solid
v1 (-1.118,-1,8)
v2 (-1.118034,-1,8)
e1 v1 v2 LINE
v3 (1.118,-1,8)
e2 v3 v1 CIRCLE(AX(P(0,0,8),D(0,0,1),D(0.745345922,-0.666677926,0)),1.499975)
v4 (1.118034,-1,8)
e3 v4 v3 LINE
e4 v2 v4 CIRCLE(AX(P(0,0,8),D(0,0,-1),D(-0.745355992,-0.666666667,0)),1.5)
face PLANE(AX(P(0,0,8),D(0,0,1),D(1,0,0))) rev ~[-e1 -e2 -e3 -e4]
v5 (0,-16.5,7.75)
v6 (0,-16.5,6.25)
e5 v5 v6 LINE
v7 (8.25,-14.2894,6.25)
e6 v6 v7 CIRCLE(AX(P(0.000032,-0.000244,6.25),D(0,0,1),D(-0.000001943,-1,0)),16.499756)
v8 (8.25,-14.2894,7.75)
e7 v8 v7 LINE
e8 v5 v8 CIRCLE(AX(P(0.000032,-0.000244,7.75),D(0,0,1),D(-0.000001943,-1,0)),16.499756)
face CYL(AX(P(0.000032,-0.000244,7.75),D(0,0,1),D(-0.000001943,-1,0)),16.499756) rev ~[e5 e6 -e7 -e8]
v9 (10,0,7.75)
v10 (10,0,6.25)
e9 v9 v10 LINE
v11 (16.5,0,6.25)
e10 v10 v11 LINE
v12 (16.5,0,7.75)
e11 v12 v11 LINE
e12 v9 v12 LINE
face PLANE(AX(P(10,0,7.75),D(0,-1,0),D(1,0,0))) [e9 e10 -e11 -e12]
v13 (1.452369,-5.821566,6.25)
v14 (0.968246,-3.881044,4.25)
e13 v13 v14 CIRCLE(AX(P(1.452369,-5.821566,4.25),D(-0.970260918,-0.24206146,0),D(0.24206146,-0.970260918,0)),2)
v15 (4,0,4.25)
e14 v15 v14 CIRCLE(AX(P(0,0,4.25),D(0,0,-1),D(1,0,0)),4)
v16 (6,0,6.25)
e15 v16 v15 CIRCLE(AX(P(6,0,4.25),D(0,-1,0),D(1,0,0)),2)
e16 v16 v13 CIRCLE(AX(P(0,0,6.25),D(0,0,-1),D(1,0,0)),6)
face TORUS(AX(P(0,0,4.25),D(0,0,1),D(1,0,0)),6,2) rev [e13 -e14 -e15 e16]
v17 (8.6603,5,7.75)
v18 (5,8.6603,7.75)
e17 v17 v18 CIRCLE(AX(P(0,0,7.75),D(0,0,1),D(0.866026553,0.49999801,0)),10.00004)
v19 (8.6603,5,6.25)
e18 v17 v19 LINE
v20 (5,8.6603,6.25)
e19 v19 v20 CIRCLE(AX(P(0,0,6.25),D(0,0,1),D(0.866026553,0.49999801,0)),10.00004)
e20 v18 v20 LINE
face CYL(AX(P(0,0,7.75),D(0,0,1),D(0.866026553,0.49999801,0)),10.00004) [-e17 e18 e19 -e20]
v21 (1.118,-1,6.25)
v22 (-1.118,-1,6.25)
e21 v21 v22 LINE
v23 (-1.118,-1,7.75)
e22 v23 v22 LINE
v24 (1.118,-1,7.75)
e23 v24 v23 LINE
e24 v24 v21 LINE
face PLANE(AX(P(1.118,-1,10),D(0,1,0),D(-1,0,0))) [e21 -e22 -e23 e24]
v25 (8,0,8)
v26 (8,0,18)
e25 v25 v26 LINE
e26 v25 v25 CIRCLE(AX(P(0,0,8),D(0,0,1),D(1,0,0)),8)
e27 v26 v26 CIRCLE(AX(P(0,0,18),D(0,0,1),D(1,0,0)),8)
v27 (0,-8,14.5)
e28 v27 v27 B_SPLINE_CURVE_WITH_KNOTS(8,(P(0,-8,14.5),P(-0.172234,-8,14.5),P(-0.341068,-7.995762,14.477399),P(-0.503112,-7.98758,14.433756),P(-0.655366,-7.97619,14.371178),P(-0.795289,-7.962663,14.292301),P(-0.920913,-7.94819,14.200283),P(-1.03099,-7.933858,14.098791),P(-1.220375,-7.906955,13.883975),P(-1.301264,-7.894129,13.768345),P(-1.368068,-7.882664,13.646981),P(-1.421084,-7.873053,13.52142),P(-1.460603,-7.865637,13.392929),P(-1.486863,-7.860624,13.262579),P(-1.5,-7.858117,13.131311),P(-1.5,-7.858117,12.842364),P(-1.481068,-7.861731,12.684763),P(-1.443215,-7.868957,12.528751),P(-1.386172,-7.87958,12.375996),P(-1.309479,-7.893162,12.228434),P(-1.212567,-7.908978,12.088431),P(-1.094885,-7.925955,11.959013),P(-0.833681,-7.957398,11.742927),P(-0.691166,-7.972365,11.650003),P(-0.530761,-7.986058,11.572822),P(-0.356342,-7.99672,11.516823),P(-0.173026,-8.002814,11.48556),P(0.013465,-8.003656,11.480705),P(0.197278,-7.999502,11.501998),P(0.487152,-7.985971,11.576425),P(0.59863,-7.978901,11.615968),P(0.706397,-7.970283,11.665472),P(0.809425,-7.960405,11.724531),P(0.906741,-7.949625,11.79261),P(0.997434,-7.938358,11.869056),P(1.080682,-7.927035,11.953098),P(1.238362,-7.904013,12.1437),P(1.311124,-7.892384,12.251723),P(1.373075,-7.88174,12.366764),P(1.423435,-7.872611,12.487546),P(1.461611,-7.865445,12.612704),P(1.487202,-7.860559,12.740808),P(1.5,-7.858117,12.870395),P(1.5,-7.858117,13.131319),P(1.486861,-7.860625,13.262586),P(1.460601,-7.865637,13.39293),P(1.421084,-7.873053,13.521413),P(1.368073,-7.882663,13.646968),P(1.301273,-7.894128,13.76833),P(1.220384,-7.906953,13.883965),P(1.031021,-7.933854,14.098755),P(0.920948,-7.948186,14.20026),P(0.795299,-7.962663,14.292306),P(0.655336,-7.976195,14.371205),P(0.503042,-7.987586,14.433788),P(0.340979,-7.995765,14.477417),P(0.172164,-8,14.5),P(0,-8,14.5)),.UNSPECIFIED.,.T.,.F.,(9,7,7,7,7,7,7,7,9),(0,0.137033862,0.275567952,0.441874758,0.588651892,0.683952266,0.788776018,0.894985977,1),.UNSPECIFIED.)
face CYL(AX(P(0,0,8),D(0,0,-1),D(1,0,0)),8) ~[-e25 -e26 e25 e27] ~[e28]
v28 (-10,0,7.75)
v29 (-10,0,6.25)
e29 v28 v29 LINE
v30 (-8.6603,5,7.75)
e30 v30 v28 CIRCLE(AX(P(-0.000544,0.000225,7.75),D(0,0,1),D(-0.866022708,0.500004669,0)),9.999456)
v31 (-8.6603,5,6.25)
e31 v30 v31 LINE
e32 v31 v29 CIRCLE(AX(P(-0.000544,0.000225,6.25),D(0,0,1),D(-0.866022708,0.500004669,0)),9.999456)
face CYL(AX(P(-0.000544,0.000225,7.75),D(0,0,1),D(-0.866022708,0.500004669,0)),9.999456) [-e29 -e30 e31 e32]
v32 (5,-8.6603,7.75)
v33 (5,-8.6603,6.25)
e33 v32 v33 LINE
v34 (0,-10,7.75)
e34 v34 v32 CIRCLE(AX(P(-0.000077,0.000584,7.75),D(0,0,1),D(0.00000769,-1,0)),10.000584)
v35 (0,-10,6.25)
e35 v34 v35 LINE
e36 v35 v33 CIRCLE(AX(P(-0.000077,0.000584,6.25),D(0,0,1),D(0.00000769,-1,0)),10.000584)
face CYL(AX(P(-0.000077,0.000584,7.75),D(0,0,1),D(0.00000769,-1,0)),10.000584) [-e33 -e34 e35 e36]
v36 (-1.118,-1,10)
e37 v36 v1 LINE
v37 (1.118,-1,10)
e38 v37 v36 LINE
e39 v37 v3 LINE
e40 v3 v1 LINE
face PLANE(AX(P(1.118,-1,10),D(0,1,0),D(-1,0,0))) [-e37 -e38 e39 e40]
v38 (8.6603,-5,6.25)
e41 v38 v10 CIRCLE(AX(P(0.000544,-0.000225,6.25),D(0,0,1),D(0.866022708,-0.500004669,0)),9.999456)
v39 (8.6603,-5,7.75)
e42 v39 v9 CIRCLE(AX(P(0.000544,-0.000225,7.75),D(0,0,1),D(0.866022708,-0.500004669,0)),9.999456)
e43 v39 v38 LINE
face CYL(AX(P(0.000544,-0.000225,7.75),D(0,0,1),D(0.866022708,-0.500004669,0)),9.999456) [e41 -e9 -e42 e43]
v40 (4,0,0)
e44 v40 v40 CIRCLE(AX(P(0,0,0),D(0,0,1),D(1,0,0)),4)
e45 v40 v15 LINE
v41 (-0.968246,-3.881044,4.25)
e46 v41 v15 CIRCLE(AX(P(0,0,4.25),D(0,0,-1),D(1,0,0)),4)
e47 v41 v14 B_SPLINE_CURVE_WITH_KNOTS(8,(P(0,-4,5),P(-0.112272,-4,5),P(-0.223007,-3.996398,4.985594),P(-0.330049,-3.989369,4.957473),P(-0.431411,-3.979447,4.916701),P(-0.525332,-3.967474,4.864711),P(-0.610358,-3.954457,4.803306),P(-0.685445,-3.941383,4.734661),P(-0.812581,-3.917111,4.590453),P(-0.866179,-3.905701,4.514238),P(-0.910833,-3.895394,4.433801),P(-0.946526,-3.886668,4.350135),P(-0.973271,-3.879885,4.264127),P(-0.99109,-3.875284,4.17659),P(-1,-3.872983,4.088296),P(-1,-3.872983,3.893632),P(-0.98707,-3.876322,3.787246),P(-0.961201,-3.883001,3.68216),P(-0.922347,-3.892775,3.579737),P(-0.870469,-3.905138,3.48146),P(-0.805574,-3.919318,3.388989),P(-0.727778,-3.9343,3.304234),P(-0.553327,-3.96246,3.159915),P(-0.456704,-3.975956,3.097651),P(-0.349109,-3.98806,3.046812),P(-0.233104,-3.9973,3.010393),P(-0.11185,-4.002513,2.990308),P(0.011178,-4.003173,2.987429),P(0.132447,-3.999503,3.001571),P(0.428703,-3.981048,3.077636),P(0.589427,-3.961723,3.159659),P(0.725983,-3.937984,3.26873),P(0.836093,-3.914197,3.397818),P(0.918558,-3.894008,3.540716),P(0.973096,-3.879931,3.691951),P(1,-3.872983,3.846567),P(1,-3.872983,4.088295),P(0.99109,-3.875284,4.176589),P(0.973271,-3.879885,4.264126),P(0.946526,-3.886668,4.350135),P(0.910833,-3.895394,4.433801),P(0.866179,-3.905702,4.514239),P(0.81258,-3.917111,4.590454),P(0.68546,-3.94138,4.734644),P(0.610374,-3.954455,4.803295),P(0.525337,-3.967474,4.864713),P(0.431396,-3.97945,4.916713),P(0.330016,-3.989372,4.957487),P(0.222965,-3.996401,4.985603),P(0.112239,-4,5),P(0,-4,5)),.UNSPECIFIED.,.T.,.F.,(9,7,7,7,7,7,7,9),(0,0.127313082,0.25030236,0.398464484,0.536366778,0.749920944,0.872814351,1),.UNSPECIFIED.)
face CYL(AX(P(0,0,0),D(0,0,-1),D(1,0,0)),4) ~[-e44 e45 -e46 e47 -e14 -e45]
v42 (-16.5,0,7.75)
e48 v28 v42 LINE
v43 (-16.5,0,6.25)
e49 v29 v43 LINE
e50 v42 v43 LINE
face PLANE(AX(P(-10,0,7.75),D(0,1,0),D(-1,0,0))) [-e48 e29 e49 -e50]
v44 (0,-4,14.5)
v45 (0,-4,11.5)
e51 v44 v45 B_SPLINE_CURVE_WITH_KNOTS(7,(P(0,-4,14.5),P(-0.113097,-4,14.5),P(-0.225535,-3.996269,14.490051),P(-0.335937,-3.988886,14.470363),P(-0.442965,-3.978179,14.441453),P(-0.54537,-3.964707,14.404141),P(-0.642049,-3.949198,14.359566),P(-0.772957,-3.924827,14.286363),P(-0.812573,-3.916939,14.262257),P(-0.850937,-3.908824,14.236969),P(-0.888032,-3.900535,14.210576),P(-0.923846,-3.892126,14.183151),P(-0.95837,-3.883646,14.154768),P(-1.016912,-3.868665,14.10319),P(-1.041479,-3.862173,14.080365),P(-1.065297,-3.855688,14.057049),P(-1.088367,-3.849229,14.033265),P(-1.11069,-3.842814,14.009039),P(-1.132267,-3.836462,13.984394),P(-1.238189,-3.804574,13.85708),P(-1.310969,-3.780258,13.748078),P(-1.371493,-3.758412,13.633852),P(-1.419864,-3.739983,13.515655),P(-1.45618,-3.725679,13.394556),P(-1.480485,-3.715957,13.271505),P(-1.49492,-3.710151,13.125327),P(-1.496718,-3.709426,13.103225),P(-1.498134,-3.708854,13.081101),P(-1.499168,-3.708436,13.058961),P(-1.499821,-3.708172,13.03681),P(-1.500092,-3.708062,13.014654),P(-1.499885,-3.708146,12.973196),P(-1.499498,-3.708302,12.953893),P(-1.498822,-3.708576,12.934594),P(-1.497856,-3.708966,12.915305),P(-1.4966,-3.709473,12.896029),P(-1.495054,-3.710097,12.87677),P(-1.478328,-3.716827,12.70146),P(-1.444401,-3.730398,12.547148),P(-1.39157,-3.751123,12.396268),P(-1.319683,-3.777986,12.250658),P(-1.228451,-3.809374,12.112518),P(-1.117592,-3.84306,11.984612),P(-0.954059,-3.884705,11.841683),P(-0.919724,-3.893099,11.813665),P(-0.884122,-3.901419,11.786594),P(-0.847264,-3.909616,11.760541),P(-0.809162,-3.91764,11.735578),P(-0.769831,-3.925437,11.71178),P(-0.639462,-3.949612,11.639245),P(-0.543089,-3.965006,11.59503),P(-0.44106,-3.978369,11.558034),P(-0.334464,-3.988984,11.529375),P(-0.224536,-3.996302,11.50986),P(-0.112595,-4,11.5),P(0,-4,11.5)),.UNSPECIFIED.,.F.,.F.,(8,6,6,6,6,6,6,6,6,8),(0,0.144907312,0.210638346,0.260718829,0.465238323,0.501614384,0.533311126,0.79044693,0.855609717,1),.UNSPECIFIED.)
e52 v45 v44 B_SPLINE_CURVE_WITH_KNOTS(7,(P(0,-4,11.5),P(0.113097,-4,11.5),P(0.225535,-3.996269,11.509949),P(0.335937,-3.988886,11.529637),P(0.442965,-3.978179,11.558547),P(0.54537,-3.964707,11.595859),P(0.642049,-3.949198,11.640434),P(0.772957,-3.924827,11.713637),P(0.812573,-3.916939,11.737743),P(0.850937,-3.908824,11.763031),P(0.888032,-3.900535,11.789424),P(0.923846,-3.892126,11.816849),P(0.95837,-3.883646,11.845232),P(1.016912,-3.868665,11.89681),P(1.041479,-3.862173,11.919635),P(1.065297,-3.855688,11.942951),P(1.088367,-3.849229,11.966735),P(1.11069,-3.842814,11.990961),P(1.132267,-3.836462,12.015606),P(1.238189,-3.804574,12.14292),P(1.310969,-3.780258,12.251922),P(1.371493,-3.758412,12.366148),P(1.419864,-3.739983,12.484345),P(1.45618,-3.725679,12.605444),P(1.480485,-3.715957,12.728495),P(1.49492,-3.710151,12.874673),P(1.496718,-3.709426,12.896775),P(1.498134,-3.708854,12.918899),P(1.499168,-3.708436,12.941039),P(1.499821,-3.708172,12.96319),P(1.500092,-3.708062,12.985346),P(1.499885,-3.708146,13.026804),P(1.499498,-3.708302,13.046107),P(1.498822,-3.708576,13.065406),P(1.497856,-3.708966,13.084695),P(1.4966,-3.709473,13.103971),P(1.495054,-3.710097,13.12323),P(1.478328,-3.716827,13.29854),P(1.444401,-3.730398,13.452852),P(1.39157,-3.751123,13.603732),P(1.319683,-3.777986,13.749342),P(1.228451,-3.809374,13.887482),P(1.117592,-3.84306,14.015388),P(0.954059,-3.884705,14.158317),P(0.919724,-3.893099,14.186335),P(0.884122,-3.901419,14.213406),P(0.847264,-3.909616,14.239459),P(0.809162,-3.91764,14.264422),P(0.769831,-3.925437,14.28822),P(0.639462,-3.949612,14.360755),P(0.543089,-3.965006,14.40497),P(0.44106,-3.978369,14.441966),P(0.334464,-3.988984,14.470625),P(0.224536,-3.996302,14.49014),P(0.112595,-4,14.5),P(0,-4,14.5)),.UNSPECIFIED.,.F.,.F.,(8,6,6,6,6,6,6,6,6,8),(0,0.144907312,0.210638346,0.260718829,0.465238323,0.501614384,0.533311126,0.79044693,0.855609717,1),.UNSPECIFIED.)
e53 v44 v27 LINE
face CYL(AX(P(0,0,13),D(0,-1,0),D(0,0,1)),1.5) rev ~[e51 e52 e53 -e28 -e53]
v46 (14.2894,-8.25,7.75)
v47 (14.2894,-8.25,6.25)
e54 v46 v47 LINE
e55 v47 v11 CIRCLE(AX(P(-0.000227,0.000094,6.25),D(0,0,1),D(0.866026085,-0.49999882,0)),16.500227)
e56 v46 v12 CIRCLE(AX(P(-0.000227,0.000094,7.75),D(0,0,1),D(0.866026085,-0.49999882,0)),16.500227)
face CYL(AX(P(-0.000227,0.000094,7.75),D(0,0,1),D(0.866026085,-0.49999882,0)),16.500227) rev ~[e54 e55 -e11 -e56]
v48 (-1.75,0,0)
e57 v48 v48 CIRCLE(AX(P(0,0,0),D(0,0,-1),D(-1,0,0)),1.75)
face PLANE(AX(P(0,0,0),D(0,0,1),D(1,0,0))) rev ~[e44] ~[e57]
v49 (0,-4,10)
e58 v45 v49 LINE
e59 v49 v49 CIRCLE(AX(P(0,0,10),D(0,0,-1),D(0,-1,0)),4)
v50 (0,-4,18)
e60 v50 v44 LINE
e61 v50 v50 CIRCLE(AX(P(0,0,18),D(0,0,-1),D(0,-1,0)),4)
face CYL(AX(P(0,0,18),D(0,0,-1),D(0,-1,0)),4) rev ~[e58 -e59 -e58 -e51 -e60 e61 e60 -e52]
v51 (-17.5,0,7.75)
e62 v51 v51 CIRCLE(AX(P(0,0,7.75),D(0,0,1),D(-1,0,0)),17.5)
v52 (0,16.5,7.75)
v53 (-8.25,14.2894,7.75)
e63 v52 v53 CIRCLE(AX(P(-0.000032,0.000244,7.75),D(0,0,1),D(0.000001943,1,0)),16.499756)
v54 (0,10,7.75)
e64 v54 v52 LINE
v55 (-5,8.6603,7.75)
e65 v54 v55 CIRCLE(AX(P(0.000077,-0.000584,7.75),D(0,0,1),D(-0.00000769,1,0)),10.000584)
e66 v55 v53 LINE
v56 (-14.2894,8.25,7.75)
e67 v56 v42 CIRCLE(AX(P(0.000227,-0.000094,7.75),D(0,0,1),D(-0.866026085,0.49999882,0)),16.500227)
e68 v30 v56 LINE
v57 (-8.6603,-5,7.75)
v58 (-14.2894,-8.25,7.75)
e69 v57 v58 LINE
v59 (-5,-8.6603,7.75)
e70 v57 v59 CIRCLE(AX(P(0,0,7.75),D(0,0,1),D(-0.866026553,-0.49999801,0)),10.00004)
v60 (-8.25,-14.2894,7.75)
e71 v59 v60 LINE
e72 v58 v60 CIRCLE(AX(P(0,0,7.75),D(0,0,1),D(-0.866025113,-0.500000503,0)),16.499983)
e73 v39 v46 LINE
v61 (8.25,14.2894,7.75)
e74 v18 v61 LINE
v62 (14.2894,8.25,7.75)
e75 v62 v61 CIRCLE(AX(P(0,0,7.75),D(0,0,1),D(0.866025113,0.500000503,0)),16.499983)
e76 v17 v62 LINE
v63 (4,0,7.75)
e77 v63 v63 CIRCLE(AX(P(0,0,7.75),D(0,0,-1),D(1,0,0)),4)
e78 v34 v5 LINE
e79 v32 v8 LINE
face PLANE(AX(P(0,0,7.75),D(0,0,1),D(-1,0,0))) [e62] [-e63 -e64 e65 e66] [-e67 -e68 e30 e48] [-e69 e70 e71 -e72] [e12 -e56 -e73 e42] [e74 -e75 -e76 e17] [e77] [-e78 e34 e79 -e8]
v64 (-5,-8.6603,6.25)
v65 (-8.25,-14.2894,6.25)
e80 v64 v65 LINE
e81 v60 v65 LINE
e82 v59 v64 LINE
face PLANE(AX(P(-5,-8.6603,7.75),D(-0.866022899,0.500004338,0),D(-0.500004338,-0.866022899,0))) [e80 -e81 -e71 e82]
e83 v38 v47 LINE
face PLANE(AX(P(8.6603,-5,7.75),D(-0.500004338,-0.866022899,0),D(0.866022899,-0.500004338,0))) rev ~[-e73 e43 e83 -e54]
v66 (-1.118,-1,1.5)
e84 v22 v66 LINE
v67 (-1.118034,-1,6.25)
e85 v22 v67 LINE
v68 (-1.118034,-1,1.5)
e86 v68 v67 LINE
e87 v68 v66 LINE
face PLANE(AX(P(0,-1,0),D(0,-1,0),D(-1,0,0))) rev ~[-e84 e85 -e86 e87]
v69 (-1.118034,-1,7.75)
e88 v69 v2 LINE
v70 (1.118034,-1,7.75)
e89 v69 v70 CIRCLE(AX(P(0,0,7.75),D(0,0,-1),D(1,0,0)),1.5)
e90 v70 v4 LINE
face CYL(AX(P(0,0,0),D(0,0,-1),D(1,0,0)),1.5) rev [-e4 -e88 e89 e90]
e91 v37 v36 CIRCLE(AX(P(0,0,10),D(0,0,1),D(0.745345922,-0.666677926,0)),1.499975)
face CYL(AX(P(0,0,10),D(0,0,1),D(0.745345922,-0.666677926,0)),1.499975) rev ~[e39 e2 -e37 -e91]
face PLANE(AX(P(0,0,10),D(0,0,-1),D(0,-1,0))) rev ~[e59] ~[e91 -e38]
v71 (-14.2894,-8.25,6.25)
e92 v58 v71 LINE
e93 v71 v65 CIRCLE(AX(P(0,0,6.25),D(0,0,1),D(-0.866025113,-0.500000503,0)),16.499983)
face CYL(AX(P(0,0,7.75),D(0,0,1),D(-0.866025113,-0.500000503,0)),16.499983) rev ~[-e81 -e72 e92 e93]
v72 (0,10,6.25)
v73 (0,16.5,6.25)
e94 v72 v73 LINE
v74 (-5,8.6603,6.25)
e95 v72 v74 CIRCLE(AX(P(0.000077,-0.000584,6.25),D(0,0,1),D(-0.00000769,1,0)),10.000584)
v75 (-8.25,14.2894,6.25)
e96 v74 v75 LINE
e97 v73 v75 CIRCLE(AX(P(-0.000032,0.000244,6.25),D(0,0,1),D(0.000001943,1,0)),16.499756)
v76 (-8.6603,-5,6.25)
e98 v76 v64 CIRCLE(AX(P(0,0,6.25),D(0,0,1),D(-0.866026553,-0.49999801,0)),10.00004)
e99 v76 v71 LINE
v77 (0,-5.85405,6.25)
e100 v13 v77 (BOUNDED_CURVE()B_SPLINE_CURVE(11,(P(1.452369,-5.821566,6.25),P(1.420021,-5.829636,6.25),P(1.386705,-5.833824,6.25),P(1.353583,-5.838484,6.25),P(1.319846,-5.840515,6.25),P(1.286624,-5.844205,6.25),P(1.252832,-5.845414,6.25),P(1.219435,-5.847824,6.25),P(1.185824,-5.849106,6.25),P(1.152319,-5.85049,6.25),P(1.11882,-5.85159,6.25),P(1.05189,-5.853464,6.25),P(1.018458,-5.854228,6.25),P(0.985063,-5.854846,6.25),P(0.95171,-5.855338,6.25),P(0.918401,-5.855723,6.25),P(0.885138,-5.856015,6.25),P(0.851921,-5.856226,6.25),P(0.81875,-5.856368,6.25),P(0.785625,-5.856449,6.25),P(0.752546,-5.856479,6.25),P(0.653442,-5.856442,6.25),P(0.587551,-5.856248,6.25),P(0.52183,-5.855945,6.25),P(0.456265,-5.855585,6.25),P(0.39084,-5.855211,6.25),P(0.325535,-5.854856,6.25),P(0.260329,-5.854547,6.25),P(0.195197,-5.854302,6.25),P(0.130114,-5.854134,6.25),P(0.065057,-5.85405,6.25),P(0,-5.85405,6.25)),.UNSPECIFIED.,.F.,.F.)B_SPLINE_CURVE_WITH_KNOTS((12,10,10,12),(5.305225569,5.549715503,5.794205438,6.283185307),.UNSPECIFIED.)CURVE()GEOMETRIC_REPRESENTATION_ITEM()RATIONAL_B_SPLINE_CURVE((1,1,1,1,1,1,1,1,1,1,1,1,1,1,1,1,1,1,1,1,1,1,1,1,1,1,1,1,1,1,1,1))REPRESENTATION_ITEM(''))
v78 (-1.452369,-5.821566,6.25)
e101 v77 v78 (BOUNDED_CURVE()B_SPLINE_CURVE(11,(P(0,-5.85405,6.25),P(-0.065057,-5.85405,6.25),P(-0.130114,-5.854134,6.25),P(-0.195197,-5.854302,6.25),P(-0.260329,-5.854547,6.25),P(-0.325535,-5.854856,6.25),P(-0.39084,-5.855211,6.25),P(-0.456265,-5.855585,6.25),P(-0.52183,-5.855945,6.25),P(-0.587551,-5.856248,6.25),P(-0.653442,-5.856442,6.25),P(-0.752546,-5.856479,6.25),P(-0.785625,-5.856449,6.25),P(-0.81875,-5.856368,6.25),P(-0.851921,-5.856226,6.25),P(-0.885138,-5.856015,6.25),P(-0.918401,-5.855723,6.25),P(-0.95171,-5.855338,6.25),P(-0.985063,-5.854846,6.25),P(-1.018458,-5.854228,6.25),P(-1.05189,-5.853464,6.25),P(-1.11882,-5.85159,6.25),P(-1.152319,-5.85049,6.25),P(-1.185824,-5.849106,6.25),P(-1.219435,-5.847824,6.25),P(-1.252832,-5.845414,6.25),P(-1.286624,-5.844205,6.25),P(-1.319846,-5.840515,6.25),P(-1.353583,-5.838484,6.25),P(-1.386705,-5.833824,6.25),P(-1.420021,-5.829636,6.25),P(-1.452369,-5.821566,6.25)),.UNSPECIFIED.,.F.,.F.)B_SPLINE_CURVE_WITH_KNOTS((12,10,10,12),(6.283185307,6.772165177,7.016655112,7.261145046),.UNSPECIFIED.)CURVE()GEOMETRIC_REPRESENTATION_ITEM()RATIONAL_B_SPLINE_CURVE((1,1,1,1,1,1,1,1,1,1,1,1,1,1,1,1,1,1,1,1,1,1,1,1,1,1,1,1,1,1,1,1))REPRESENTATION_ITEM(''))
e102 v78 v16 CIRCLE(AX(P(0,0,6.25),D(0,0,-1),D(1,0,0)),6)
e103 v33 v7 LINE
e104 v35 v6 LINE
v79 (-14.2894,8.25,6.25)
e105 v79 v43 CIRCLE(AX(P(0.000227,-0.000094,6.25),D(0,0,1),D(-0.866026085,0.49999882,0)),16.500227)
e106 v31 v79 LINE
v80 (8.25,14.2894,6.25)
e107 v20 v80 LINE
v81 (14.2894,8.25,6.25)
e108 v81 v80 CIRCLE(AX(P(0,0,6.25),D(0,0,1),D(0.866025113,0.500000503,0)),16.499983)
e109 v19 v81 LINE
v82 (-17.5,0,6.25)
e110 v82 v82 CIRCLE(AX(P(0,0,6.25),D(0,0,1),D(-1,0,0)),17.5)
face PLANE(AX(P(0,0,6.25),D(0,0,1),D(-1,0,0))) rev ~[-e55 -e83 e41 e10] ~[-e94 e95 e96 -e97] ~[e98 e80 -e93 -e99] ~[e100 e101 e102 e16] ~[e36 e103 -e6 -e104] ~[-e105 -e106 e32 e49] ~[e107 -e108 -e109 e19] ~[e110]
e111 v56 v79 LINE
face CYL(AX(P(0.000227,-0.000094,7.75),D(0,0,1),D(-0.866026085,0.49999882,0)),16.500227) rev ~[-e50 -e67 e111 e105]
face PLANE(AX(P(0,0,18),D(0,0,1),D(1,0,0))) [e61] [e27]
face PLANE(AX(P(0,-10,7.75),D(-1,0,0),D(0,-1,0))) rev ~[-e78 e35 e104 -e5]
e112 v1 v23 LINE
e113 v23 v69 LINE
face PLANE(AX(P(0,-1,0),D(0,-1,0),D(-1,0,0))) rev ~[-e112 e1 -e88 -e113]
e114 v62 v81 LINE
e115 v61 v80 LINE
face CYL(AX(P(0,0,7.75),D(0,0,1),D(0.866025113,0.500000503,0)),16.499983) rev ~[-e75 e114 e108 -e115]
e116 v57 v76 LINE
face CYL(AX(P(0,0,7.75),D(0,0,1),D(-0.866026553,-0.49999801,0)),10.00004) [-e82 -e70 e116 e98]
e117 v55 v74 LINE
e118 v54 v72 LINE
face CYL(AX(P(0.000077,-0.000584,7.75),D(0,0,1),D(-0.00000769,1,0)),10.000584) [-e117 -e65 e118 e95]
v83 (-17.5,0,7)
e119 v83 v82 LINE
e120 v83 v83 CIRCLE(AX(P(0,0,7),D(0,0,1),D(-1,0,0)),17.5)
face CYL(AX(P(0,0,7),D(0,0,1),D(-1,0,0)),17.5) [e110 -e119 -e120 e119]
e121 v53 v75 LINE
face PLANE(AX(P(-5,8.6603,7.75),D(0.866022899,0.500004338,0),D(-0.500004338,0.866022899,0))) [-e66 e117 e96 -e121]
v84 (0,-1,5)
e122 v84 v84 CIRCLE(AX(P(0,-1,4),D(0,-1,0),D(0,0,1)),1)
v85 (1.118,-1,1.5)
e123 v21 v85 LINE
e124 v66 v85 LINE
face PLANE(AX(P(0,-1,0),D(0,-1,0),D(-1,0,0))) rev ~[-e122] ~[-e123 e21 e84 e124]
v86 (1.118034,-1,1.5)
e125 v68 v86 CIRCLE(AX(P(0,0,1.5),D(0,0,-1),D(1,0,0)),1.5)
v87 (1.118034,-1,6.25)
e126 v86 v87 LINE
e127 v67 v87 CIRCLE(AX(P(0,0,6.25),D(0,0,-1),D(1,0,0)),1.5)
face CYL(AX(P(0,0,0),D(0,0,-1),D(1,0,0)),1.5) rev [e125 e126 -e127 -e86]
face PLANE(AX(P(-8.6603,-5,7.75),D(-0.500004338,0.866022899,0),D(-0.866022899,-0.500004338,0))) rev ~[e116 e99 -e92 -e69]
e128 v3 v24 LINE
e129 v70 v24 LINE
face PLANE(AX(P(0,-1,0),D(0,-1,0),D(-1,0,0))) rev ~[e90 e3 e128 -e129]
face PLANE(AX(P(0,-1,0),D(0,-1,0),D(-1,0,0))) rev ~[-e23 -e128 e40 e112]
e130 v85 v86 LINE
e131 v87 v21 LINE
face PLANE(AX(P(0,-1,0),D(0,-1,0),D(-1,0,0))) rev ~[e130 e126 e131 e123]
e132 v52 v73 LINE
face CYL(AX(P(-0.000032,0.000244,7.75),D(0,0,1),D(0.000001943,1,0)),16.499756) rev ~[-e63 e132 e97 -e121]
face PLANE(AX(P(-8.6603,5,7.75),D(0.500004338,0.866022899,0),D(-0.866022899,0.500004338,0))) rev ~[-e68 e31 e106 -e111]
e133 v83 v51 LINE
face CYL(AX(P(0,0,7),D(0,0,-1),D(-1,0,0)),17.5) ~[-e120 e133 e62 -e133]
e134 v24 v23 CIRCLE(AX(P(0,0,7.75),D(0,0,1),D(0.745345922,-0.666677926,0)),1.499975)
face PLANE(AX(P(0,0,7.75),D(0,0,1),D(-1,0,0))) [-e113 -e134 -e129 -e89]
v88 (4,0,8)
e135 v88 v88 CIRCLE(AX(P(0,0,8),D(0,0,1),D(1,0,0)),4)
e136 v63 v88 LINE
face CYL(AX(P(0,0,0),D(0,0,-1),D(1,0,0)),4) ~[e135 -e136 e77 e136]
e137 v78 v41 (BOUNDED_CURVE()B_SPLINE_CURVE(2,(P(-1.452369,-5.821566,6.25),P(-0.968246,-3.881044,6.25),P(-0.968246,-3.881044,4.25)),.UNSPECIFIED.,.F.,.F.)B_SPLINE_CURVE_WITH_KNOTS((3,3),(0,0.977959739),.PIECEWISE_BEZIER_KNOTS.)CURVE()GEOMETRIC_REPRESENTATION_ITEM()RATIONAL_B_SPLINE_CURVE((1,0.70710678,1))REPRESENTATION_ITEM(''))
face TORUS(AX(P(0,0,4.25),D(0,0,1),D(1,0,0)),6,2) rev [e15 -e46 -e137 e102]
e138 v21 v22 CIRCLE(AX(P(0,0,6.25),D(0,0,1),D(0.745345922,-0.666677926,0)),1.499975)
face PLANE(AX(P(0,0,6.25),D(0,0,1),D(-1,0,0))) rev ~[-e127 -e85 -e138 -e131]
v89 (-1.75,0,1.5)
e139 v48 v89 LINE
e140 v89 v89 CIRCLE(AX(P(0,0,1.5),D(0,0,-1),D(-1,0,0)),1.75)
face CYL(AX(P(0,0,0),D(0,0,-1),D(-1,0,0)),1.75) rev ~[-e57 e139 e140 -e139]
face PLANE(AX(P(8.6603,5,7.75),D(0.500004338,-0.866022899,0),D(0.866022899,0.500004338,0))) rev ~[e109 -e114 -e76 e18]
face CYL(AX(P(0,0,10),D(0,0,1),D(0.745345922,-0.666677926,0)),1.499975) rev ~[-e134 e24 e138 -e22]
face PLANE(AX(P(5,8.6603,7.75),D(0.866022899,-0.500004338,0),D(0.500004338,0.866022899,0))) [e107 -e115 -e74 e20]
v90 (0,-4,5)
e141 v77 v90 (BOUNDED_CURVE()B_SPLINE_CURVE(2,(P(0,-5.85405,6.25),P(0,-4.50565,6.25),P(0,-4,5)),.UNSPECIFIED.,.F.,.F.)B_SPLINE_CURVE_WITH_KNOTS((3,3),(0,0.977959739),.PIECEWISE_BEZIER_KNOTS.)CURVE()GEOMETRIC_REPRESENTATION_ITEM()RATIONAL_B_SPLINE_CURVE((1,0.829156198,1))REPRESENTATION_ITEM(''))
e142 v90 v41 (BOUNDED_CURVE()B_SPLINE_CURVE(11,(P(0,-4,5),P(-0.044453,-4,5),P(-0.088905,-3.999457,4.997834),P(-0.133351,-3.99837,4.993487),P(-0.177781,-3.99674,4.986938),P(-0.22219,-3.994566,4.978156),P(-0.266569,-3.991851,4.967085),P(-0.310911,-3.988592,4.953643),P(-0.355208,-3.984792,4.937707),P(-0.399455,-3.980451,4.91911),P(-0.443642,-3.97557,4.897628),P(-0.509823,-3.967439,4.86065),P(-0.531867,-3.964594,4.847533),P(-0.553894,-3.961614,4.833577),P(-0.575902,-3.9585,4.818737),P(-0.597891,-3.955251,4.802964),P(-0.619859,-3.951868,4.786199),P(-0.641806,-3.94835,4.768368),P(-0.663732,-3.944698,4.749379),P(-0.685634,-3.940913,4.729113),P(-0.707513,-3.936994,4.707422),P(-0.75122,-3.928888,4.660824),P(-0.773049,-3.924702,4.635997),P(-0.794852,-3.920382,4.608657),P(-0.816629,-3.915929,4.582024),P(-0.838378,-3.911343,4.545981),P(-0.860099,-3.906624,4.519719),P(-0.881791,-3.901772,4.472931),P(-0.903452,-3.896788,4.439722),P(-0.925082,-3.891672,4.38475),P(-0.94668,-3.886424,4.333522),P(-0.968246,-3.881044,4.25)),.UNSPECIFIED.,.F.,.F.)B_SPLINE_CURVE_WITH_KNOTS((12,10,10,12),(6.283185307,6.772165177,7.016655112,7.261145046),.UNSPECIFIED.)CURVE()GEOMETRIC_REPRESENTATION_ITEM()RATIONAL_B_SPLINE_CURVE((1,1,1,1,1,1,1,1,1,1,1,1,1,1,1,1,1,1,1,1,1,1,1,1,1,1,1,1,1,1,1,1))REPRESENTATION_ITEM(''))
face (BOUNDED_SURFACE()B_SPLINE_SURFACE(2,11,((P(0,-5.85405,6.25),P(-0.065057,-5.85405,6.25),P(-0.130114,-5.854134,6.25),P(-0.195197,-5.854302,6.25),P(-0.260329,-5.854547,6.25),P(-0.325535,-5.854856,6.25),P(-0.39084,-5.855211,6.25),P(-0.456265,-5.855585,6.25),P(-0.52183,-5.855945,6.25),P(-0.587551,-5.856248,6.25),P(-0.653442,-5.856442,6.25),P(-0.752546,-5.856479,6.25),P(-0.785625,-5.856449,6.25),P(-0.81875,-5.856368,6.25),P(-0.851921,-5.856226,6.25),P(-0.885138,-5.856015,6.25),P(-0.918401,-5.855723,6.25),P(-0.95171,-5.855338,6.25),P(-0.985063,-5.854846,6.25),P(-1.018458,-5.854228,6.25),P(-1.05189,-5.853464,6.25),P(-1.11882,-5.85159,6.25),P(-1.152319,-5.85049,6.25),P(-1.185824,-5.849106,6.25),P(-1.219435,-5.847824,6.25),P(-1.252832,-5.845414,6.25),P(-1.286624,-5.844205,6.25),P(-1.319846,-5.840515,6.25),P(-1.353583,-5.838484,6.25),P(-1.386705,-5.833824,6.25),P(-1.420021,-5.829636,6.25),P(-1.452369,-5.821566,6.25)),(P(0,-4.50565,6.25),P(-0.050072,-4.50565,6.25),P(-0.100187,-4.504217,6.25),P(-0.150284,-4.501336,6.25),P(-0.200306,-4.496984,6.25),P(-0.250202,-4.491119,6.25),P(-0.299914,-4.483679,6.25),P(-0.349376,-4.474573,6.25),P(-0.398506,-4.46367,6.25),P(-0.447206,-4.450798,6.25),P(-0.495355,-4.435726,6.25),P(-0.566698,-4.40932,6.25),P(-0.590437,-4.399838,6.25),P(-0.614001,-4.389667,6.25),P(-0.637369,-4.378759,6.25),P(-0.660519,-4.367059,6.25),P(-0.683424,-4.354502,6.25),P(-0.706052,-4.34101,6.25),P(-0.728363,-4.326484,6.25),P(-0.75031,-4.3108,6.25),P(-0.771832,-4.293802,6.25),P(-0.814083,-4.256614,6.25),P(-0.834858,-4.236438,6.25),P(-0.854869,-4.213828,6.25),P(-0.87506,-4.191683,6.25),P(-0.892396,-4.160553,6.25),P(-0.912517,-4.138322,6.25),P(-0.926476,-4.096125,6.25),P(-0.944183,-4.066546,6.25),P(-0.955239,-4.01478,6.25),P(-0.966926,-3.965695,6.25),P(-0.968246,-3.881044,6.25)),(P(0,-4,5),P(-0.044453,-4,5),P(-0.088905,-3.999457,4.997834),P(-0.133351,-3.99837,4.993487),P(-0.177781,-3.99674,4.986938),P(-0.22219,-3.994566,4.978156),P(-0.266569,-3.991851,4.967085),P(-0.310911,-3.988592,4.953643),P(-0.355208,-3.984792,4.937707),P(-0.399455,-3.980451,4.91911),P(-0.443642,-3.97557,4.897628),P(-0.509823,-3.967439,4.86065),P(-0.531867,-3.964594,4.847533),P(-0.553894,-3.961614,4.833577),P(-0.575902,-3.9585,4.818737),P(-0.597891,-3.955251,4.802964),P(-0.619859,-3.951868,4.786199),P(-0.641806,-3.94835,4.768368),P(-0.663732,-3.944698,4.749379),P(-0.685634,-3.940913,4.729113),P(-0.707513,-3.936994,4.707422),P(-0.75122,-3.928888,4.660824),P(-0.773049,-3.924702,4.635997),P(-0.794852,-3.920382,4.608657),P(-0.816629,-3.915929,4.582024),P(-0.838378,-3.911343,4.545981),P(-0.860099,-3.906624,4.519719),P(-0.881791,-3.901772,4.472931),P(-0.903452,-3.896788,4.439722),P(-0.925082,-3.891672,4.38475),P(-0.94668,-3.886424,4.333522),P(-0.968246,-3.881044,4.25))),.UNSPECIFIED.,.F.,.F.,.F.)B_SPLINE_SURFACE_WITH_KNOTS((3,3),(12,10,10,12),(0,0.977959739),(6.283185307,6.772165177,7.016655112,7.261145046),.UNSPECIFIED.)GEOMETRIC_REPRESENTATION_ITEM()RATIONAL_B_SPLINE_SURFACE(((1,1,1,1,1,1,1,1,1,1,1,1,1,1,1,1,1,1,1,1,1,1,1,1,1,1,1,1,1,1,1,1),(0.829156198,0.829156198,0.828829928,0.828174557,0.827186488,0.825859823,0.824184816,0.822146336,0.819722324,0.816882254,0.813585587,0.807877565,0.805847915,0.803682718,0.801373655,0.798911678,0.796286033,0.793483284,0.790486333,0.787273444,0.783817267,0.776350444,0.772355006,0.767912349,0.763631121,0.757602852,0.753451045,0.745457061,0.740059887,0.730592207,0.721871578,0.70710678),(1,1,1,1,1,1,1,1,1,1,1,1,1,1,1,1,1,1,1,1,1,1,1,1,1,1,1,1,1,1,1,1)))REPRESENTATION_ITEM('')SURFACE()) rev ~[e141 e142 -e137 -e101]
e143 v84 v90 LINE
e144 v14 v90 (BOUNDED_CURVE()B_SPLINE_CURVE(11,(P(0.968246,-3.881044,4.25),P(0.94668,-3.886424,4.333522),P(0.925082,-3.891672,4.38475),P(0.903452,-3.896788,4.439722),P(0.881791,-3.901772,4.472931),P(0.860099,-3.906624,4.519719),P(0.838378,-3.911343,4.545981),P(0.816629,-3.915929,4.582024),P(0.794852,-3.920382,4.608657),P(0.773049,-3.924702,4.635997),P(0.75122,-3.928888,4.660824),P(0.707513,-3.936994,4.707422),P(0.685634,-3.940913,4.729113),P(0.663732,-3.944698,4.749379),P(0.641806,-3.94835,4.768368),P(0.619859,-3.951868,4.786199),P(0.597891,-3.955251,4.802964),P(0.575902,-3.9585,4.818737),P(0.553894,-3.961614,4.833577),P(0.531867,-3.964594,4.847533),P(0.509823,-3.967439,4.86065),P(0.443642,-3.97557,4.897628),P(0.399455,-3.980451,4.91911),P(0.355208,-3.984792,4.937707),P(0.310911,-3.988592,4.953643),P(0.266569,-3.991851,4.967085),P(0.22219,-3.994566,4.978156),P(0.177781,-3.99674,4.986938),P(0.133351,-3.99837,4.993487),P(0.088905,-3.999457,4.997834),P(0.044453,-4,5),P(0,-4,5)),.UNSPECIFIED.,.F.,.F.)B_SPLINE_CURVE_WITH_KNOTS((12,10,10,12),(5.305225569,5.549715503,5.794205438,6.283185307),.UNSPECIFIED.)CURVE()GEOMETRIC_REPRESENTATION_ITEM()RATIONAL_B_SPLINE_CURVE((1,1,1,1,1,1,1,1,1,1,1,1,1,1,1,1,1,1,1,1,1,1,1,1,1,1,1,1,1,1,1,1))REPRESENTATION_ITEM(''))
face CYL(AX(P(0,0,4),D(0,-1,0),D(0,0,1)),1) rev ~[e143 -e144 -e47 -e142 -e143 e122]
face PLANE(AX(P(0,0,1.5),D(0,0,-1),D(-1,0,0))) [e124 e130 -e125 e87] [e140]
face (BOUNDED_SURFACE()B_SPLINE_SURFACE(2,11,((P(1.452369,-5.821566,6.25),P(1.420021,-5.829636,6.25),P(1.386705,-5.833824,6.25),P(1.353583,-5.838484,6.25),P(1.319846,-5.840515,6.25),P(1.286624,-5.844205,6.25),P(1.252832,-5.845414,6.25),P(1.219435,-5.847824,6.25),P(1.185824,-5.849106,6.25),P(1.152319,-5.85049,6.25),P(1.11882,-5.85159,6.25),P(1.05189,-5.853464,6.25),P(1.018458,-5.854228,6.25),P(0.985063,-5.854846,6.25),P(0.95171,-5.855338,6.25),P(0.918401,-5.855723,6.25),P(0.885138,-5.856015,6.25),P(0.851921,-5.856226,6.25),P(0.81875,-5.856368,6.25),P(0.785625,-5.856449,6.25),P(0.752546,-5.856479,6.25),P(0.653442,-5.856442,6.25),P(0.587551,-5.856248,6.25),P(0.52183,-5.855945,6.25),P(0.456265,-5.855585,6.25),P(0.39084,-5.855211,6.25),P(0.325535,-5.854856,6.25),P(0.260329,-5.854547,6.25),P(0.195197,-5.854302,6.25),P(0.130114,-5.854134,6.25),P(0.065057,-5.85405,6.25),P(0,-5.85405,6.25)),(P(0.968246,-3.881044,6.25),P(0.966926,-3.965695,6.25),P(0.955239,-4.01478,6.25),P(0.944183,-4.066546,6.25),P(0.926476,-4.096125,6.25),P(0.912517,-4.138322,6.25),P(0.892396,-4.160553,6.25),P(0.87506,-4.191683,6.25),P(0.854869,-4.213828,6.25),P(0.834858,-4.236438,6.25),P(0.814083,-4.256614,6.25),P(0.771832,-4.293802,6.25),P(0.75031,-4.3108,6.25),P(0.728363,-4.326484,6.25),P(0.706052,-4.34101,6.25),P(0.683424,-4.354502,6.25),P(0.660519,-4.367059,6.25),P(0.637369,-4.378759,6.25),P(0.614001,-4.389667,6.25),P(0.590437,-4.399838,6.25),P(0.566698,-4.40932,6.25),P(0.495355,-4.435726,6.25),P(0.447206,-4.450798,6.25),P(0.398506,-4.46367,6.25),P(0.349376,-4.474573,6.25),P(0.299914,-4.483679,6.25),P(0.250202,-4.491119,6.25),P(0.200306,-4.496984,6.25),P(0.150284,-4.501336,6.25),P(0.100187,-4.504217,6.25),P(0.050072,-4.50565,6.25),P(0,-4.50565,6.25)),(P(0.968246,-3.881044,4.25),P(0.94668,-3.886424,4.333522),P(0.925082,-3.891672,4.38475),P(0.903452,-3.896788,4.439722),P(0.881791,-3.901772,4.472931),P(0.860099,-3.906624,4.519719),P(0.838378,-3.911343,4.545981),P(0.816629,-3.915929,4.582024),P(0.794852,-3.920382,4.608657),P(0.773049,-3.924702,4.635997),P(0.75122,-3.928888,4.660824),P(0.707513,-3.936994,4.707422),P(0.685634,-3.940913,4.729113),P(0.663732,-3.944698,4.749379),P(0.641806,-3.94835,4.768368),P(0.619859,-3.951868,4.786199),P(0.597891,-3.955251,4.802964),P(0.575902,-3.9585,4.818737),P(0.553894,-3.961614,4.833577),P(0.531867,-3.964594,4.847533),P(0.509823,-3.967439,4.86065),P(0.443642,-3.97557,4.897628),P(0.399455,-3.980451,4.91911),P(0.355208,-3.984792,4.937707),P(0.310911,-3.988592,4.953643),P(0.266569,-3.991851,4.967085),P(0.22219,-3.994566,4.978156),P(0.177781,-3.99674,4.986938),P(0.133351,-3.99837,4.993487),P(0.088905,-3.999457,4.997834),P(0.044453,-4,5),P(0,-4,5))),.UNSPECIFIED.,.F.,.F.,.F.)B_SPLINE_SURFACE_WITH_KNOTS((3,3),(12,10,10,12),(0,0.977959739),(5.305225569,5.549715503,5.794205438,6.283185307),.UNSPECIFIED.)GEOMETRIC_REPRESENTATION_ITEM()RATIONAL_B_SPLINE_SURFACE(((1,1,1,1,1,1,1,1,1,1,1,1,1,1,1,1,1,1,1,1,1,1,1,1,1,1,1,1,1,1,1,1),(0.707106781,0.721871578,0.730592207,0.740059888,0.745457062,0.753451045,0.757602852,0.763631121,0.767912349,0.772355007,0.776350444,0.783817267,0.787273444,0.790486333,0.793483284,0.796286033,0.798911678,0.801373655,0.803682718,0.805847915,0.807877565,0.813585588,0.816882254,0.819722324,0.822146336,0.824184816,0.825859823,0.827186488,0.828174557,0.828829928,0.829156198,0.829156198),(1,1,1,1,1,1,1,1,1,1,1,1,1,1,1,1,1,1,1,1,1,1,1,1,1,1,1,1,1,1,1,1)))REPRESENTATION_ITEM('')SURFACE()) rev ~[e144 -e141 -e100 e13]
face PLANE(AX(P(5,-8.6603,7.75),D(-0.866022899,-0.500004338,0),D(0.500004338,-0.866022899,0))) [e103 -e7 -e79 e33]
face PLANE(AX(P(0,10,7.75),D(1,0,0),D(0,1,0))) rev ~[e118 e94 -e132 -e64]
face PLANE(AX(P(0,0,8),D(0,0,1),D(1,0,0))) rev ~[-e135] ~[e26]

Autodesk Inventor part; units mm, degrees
ref_plane "YZ Plane" through (0, 0, 0) normal (1, 0, 0) x (0, 1, 0)
ref_plane "XZ Plane" through (0, 0, 0) normal (0, 1, 0) x (-1, 0, 0)
ref_plane "XY Plane" through (0, 0, 0) normal (0, 0, 1) x (1, 0, 0)
sketch "Boceto1" plane through (0, 0, 0) normal (0, 0, 1) x (1, 0, 0)
  circle A0 centre (0, 0) radius 4
  circle A1 centre (0, 0) radius 1.5 projected
  line L0 (0, -1) -> (1.5, -1)
  line L1 (1.5, -1) -> (-2.7531, -1)
  point P0 (1, -1.118)
  point P1 (1, 1.118)
  point P2 (-1.118, -1)
  point P3 (1.118, -1)
  dimension "d0" = 8
extrude "Extrusión1" add sketch "Boceto1" along normal blind 8 contours A0 | L1 L0 A1 picked at (-0.6553, -1.0791)
sketch "Boceto2" plane through (0, 0, 8) normal (0, 0, 1) x (1, 0, 0)
  circle A0 centre (0, 0) radius 8
  dimension "d3" = 16
extrude "Extrusión2" add sketch "Boceto2" along normal blind 10
sketch "Boceto3" plane through (0, 0, 18) normal (0, 0, 1) x (1, 0, 0)
  circle A0 centre (0, 0) radius 8 projected
hole "Agujero1" at (0, 0, 18) direction (0, 0, -1) diameter 8 depth 8
sketch "Boceto5" plane through (0, 0, 0) normal (0, 1, 0) x (-1, 0, 0)
  line L0 (0, 0) -> (0, 4)
  circle A0 centre (0, 4) radius 1
  line L1 (0, 4) -> (0, 8)
  line L2 (0, 8) -> (0, 13)
  circle A1 centre (0, 13) radius 1.5
  dimension "d20" = 4
  dimension "d21" = 2
  dimension "d29" = 5
  dimension "d30" = 3
hole "Agujero3" at (0, 0, 4) direction (0, -1, 0) diameter 2 end through all
sketch "Boceto6" plane through (0, 0, 0) normal (0, 1, 0) x (-1, 0, 0)
  line L0 (0, 0) -> (0, 13)
  circle A0 centre (0, 13) radius 1.5
  dimension "d31" = 13
  dimension "d32" = 3
hole "Agujero4" at (0, 0, 13) direction (0, -1, 0) diameter 3 end through all
ref_plane "Plano de trabajo2" through (0, 0, 7) normal (0, 0, 1) x (-1, 0, 0)
sketch "Boceto7" plane through (0, 0, 7) normal (0, 0, 1) x (-1, 0, 0)
  circle A0 centre (0, 0) radius 17.5
  dimension "d42" = 35
extrude "Extrusión3" add sketch "Boceto7" along normal mid plane 1.5
sketch "Boceto8" plane through (0, 0, 7.75) normal (0, 0, 1) x (1, 0, 0)
  circle A0 centre (0, 0) radius 8 projected
  circle A1 centre (0, 0) radius 17.5 projected
  arc A2 (8.6603, -5) -> (10, 0) centre (0, 0) ccw
  arc A3 (14.2894, -8.25) -> (16.5, 0) centre (0, 0) ccw
  line L0 (10, 0) -> (16.5, 0)
  line L1 (0, 0) -> (16.5, 0) construction
  line L2 (8.6603, -5) -> (14.2894, -8.25)
  arc A4 (8.6603, 5) -> (5, 8.6603) centre (0, 0) ccw
  line L3 (8.6603, 5) -> (14.2894, 8.25)
  arc A5 (14.2894, 8.25) -> (8.25, 14.2894) centre (0, 0) ccw
  line L4 (5, 8.6603) -> (8.25, 14.2894)
  arc A6 (0, 10) -> (-5, 8.6603) centre (0, 0) ccw
  line L5 (0, 10) -> (0, 16.5)
  arc A7 (0, 16.5) -> (-8.25, 14.2894) centre (0, 0) ccw
  line L6 (-5, 8.6603) -> (-8.25, 14.2894)
  arc A8 (-8.6603, 5) -> (-10, 0) centre (0, 0) ccw
  line L7 (-8.6603, 5) -> (-14.2894, 8.25)
  arc A9 (-14.2894, 8.25) -> (-16.5, 0) centre (0, 0) ccw
  line L8 (-10, 0) -> (-16.5, 0)
  arc A10 (-8.6603, -5) -> (-5, -8.6603) centre (0, 0) ccw
  line L9 (-8.6603, -5) -> (-14.2894, -8.25)
  arc A11 (-14.2894, -8.25) -> (-8.25, -14.2894) centre (0, 0) ccw
  line L10 (-5, -8.6603) -> (-8.25, -14.2894)
  arc A12 (0, -10) -> (5, -8.6603) centre (0, 0) ccw
  line L11 (0, -10) -> (0, -16.5)
  arc A13 (0, -16.5) -> (8.25, -14.2894) centre (0, 0) ccw
  line L12 (5, -8.6603) -> (8.25, -14.2894)
  point P0 (0, 0)
  dimension "d45" = 2
  dimension "d46" = 1
  dimension "d50" = 360
extrude "Extrusión4" cut sketch "Boceto8" against normal through all contours A2 L0 A3 L2 | A4 L4 A5 L3 | A6 L6 A7 L5 | A8 L8 A9 L7 | A10 L10 A11 L9 | A12 L12 A13 L11
sketch "Boceto9" plane through (0, 0, 0) normal (0, 0, -1) x (-1, 0, 0)
  circle A0 centre (0, 0) radius 1.75
  dimension "d54" = 3.5
extrude "Extrusión5" cut sketch "Boceto9" against normal blind 1.5
sketch "Boceto10" plane through (0, 0, 10) normal (0, 0, 1) x (1, 0, 0)
  arc A0 (1.118, -1) -> (-1.118, -1) centre (0, 0) ccw projected
  circle A1 centre (0, 0) radius 1.75 projected
  line L0 (1.118, -1) -> (-1.118, -1) projected
  point P0 (-1.4361, -1)
  point P1 (-1.7451, -0.1303)
extrude "Extrusión6" cut sketch "Boceto10" against normal blind 10 contours L0 A0
fillet "Empalme3" radius 2 1 edges at (-4, 0, 6.25)
properties part number "Acople"
